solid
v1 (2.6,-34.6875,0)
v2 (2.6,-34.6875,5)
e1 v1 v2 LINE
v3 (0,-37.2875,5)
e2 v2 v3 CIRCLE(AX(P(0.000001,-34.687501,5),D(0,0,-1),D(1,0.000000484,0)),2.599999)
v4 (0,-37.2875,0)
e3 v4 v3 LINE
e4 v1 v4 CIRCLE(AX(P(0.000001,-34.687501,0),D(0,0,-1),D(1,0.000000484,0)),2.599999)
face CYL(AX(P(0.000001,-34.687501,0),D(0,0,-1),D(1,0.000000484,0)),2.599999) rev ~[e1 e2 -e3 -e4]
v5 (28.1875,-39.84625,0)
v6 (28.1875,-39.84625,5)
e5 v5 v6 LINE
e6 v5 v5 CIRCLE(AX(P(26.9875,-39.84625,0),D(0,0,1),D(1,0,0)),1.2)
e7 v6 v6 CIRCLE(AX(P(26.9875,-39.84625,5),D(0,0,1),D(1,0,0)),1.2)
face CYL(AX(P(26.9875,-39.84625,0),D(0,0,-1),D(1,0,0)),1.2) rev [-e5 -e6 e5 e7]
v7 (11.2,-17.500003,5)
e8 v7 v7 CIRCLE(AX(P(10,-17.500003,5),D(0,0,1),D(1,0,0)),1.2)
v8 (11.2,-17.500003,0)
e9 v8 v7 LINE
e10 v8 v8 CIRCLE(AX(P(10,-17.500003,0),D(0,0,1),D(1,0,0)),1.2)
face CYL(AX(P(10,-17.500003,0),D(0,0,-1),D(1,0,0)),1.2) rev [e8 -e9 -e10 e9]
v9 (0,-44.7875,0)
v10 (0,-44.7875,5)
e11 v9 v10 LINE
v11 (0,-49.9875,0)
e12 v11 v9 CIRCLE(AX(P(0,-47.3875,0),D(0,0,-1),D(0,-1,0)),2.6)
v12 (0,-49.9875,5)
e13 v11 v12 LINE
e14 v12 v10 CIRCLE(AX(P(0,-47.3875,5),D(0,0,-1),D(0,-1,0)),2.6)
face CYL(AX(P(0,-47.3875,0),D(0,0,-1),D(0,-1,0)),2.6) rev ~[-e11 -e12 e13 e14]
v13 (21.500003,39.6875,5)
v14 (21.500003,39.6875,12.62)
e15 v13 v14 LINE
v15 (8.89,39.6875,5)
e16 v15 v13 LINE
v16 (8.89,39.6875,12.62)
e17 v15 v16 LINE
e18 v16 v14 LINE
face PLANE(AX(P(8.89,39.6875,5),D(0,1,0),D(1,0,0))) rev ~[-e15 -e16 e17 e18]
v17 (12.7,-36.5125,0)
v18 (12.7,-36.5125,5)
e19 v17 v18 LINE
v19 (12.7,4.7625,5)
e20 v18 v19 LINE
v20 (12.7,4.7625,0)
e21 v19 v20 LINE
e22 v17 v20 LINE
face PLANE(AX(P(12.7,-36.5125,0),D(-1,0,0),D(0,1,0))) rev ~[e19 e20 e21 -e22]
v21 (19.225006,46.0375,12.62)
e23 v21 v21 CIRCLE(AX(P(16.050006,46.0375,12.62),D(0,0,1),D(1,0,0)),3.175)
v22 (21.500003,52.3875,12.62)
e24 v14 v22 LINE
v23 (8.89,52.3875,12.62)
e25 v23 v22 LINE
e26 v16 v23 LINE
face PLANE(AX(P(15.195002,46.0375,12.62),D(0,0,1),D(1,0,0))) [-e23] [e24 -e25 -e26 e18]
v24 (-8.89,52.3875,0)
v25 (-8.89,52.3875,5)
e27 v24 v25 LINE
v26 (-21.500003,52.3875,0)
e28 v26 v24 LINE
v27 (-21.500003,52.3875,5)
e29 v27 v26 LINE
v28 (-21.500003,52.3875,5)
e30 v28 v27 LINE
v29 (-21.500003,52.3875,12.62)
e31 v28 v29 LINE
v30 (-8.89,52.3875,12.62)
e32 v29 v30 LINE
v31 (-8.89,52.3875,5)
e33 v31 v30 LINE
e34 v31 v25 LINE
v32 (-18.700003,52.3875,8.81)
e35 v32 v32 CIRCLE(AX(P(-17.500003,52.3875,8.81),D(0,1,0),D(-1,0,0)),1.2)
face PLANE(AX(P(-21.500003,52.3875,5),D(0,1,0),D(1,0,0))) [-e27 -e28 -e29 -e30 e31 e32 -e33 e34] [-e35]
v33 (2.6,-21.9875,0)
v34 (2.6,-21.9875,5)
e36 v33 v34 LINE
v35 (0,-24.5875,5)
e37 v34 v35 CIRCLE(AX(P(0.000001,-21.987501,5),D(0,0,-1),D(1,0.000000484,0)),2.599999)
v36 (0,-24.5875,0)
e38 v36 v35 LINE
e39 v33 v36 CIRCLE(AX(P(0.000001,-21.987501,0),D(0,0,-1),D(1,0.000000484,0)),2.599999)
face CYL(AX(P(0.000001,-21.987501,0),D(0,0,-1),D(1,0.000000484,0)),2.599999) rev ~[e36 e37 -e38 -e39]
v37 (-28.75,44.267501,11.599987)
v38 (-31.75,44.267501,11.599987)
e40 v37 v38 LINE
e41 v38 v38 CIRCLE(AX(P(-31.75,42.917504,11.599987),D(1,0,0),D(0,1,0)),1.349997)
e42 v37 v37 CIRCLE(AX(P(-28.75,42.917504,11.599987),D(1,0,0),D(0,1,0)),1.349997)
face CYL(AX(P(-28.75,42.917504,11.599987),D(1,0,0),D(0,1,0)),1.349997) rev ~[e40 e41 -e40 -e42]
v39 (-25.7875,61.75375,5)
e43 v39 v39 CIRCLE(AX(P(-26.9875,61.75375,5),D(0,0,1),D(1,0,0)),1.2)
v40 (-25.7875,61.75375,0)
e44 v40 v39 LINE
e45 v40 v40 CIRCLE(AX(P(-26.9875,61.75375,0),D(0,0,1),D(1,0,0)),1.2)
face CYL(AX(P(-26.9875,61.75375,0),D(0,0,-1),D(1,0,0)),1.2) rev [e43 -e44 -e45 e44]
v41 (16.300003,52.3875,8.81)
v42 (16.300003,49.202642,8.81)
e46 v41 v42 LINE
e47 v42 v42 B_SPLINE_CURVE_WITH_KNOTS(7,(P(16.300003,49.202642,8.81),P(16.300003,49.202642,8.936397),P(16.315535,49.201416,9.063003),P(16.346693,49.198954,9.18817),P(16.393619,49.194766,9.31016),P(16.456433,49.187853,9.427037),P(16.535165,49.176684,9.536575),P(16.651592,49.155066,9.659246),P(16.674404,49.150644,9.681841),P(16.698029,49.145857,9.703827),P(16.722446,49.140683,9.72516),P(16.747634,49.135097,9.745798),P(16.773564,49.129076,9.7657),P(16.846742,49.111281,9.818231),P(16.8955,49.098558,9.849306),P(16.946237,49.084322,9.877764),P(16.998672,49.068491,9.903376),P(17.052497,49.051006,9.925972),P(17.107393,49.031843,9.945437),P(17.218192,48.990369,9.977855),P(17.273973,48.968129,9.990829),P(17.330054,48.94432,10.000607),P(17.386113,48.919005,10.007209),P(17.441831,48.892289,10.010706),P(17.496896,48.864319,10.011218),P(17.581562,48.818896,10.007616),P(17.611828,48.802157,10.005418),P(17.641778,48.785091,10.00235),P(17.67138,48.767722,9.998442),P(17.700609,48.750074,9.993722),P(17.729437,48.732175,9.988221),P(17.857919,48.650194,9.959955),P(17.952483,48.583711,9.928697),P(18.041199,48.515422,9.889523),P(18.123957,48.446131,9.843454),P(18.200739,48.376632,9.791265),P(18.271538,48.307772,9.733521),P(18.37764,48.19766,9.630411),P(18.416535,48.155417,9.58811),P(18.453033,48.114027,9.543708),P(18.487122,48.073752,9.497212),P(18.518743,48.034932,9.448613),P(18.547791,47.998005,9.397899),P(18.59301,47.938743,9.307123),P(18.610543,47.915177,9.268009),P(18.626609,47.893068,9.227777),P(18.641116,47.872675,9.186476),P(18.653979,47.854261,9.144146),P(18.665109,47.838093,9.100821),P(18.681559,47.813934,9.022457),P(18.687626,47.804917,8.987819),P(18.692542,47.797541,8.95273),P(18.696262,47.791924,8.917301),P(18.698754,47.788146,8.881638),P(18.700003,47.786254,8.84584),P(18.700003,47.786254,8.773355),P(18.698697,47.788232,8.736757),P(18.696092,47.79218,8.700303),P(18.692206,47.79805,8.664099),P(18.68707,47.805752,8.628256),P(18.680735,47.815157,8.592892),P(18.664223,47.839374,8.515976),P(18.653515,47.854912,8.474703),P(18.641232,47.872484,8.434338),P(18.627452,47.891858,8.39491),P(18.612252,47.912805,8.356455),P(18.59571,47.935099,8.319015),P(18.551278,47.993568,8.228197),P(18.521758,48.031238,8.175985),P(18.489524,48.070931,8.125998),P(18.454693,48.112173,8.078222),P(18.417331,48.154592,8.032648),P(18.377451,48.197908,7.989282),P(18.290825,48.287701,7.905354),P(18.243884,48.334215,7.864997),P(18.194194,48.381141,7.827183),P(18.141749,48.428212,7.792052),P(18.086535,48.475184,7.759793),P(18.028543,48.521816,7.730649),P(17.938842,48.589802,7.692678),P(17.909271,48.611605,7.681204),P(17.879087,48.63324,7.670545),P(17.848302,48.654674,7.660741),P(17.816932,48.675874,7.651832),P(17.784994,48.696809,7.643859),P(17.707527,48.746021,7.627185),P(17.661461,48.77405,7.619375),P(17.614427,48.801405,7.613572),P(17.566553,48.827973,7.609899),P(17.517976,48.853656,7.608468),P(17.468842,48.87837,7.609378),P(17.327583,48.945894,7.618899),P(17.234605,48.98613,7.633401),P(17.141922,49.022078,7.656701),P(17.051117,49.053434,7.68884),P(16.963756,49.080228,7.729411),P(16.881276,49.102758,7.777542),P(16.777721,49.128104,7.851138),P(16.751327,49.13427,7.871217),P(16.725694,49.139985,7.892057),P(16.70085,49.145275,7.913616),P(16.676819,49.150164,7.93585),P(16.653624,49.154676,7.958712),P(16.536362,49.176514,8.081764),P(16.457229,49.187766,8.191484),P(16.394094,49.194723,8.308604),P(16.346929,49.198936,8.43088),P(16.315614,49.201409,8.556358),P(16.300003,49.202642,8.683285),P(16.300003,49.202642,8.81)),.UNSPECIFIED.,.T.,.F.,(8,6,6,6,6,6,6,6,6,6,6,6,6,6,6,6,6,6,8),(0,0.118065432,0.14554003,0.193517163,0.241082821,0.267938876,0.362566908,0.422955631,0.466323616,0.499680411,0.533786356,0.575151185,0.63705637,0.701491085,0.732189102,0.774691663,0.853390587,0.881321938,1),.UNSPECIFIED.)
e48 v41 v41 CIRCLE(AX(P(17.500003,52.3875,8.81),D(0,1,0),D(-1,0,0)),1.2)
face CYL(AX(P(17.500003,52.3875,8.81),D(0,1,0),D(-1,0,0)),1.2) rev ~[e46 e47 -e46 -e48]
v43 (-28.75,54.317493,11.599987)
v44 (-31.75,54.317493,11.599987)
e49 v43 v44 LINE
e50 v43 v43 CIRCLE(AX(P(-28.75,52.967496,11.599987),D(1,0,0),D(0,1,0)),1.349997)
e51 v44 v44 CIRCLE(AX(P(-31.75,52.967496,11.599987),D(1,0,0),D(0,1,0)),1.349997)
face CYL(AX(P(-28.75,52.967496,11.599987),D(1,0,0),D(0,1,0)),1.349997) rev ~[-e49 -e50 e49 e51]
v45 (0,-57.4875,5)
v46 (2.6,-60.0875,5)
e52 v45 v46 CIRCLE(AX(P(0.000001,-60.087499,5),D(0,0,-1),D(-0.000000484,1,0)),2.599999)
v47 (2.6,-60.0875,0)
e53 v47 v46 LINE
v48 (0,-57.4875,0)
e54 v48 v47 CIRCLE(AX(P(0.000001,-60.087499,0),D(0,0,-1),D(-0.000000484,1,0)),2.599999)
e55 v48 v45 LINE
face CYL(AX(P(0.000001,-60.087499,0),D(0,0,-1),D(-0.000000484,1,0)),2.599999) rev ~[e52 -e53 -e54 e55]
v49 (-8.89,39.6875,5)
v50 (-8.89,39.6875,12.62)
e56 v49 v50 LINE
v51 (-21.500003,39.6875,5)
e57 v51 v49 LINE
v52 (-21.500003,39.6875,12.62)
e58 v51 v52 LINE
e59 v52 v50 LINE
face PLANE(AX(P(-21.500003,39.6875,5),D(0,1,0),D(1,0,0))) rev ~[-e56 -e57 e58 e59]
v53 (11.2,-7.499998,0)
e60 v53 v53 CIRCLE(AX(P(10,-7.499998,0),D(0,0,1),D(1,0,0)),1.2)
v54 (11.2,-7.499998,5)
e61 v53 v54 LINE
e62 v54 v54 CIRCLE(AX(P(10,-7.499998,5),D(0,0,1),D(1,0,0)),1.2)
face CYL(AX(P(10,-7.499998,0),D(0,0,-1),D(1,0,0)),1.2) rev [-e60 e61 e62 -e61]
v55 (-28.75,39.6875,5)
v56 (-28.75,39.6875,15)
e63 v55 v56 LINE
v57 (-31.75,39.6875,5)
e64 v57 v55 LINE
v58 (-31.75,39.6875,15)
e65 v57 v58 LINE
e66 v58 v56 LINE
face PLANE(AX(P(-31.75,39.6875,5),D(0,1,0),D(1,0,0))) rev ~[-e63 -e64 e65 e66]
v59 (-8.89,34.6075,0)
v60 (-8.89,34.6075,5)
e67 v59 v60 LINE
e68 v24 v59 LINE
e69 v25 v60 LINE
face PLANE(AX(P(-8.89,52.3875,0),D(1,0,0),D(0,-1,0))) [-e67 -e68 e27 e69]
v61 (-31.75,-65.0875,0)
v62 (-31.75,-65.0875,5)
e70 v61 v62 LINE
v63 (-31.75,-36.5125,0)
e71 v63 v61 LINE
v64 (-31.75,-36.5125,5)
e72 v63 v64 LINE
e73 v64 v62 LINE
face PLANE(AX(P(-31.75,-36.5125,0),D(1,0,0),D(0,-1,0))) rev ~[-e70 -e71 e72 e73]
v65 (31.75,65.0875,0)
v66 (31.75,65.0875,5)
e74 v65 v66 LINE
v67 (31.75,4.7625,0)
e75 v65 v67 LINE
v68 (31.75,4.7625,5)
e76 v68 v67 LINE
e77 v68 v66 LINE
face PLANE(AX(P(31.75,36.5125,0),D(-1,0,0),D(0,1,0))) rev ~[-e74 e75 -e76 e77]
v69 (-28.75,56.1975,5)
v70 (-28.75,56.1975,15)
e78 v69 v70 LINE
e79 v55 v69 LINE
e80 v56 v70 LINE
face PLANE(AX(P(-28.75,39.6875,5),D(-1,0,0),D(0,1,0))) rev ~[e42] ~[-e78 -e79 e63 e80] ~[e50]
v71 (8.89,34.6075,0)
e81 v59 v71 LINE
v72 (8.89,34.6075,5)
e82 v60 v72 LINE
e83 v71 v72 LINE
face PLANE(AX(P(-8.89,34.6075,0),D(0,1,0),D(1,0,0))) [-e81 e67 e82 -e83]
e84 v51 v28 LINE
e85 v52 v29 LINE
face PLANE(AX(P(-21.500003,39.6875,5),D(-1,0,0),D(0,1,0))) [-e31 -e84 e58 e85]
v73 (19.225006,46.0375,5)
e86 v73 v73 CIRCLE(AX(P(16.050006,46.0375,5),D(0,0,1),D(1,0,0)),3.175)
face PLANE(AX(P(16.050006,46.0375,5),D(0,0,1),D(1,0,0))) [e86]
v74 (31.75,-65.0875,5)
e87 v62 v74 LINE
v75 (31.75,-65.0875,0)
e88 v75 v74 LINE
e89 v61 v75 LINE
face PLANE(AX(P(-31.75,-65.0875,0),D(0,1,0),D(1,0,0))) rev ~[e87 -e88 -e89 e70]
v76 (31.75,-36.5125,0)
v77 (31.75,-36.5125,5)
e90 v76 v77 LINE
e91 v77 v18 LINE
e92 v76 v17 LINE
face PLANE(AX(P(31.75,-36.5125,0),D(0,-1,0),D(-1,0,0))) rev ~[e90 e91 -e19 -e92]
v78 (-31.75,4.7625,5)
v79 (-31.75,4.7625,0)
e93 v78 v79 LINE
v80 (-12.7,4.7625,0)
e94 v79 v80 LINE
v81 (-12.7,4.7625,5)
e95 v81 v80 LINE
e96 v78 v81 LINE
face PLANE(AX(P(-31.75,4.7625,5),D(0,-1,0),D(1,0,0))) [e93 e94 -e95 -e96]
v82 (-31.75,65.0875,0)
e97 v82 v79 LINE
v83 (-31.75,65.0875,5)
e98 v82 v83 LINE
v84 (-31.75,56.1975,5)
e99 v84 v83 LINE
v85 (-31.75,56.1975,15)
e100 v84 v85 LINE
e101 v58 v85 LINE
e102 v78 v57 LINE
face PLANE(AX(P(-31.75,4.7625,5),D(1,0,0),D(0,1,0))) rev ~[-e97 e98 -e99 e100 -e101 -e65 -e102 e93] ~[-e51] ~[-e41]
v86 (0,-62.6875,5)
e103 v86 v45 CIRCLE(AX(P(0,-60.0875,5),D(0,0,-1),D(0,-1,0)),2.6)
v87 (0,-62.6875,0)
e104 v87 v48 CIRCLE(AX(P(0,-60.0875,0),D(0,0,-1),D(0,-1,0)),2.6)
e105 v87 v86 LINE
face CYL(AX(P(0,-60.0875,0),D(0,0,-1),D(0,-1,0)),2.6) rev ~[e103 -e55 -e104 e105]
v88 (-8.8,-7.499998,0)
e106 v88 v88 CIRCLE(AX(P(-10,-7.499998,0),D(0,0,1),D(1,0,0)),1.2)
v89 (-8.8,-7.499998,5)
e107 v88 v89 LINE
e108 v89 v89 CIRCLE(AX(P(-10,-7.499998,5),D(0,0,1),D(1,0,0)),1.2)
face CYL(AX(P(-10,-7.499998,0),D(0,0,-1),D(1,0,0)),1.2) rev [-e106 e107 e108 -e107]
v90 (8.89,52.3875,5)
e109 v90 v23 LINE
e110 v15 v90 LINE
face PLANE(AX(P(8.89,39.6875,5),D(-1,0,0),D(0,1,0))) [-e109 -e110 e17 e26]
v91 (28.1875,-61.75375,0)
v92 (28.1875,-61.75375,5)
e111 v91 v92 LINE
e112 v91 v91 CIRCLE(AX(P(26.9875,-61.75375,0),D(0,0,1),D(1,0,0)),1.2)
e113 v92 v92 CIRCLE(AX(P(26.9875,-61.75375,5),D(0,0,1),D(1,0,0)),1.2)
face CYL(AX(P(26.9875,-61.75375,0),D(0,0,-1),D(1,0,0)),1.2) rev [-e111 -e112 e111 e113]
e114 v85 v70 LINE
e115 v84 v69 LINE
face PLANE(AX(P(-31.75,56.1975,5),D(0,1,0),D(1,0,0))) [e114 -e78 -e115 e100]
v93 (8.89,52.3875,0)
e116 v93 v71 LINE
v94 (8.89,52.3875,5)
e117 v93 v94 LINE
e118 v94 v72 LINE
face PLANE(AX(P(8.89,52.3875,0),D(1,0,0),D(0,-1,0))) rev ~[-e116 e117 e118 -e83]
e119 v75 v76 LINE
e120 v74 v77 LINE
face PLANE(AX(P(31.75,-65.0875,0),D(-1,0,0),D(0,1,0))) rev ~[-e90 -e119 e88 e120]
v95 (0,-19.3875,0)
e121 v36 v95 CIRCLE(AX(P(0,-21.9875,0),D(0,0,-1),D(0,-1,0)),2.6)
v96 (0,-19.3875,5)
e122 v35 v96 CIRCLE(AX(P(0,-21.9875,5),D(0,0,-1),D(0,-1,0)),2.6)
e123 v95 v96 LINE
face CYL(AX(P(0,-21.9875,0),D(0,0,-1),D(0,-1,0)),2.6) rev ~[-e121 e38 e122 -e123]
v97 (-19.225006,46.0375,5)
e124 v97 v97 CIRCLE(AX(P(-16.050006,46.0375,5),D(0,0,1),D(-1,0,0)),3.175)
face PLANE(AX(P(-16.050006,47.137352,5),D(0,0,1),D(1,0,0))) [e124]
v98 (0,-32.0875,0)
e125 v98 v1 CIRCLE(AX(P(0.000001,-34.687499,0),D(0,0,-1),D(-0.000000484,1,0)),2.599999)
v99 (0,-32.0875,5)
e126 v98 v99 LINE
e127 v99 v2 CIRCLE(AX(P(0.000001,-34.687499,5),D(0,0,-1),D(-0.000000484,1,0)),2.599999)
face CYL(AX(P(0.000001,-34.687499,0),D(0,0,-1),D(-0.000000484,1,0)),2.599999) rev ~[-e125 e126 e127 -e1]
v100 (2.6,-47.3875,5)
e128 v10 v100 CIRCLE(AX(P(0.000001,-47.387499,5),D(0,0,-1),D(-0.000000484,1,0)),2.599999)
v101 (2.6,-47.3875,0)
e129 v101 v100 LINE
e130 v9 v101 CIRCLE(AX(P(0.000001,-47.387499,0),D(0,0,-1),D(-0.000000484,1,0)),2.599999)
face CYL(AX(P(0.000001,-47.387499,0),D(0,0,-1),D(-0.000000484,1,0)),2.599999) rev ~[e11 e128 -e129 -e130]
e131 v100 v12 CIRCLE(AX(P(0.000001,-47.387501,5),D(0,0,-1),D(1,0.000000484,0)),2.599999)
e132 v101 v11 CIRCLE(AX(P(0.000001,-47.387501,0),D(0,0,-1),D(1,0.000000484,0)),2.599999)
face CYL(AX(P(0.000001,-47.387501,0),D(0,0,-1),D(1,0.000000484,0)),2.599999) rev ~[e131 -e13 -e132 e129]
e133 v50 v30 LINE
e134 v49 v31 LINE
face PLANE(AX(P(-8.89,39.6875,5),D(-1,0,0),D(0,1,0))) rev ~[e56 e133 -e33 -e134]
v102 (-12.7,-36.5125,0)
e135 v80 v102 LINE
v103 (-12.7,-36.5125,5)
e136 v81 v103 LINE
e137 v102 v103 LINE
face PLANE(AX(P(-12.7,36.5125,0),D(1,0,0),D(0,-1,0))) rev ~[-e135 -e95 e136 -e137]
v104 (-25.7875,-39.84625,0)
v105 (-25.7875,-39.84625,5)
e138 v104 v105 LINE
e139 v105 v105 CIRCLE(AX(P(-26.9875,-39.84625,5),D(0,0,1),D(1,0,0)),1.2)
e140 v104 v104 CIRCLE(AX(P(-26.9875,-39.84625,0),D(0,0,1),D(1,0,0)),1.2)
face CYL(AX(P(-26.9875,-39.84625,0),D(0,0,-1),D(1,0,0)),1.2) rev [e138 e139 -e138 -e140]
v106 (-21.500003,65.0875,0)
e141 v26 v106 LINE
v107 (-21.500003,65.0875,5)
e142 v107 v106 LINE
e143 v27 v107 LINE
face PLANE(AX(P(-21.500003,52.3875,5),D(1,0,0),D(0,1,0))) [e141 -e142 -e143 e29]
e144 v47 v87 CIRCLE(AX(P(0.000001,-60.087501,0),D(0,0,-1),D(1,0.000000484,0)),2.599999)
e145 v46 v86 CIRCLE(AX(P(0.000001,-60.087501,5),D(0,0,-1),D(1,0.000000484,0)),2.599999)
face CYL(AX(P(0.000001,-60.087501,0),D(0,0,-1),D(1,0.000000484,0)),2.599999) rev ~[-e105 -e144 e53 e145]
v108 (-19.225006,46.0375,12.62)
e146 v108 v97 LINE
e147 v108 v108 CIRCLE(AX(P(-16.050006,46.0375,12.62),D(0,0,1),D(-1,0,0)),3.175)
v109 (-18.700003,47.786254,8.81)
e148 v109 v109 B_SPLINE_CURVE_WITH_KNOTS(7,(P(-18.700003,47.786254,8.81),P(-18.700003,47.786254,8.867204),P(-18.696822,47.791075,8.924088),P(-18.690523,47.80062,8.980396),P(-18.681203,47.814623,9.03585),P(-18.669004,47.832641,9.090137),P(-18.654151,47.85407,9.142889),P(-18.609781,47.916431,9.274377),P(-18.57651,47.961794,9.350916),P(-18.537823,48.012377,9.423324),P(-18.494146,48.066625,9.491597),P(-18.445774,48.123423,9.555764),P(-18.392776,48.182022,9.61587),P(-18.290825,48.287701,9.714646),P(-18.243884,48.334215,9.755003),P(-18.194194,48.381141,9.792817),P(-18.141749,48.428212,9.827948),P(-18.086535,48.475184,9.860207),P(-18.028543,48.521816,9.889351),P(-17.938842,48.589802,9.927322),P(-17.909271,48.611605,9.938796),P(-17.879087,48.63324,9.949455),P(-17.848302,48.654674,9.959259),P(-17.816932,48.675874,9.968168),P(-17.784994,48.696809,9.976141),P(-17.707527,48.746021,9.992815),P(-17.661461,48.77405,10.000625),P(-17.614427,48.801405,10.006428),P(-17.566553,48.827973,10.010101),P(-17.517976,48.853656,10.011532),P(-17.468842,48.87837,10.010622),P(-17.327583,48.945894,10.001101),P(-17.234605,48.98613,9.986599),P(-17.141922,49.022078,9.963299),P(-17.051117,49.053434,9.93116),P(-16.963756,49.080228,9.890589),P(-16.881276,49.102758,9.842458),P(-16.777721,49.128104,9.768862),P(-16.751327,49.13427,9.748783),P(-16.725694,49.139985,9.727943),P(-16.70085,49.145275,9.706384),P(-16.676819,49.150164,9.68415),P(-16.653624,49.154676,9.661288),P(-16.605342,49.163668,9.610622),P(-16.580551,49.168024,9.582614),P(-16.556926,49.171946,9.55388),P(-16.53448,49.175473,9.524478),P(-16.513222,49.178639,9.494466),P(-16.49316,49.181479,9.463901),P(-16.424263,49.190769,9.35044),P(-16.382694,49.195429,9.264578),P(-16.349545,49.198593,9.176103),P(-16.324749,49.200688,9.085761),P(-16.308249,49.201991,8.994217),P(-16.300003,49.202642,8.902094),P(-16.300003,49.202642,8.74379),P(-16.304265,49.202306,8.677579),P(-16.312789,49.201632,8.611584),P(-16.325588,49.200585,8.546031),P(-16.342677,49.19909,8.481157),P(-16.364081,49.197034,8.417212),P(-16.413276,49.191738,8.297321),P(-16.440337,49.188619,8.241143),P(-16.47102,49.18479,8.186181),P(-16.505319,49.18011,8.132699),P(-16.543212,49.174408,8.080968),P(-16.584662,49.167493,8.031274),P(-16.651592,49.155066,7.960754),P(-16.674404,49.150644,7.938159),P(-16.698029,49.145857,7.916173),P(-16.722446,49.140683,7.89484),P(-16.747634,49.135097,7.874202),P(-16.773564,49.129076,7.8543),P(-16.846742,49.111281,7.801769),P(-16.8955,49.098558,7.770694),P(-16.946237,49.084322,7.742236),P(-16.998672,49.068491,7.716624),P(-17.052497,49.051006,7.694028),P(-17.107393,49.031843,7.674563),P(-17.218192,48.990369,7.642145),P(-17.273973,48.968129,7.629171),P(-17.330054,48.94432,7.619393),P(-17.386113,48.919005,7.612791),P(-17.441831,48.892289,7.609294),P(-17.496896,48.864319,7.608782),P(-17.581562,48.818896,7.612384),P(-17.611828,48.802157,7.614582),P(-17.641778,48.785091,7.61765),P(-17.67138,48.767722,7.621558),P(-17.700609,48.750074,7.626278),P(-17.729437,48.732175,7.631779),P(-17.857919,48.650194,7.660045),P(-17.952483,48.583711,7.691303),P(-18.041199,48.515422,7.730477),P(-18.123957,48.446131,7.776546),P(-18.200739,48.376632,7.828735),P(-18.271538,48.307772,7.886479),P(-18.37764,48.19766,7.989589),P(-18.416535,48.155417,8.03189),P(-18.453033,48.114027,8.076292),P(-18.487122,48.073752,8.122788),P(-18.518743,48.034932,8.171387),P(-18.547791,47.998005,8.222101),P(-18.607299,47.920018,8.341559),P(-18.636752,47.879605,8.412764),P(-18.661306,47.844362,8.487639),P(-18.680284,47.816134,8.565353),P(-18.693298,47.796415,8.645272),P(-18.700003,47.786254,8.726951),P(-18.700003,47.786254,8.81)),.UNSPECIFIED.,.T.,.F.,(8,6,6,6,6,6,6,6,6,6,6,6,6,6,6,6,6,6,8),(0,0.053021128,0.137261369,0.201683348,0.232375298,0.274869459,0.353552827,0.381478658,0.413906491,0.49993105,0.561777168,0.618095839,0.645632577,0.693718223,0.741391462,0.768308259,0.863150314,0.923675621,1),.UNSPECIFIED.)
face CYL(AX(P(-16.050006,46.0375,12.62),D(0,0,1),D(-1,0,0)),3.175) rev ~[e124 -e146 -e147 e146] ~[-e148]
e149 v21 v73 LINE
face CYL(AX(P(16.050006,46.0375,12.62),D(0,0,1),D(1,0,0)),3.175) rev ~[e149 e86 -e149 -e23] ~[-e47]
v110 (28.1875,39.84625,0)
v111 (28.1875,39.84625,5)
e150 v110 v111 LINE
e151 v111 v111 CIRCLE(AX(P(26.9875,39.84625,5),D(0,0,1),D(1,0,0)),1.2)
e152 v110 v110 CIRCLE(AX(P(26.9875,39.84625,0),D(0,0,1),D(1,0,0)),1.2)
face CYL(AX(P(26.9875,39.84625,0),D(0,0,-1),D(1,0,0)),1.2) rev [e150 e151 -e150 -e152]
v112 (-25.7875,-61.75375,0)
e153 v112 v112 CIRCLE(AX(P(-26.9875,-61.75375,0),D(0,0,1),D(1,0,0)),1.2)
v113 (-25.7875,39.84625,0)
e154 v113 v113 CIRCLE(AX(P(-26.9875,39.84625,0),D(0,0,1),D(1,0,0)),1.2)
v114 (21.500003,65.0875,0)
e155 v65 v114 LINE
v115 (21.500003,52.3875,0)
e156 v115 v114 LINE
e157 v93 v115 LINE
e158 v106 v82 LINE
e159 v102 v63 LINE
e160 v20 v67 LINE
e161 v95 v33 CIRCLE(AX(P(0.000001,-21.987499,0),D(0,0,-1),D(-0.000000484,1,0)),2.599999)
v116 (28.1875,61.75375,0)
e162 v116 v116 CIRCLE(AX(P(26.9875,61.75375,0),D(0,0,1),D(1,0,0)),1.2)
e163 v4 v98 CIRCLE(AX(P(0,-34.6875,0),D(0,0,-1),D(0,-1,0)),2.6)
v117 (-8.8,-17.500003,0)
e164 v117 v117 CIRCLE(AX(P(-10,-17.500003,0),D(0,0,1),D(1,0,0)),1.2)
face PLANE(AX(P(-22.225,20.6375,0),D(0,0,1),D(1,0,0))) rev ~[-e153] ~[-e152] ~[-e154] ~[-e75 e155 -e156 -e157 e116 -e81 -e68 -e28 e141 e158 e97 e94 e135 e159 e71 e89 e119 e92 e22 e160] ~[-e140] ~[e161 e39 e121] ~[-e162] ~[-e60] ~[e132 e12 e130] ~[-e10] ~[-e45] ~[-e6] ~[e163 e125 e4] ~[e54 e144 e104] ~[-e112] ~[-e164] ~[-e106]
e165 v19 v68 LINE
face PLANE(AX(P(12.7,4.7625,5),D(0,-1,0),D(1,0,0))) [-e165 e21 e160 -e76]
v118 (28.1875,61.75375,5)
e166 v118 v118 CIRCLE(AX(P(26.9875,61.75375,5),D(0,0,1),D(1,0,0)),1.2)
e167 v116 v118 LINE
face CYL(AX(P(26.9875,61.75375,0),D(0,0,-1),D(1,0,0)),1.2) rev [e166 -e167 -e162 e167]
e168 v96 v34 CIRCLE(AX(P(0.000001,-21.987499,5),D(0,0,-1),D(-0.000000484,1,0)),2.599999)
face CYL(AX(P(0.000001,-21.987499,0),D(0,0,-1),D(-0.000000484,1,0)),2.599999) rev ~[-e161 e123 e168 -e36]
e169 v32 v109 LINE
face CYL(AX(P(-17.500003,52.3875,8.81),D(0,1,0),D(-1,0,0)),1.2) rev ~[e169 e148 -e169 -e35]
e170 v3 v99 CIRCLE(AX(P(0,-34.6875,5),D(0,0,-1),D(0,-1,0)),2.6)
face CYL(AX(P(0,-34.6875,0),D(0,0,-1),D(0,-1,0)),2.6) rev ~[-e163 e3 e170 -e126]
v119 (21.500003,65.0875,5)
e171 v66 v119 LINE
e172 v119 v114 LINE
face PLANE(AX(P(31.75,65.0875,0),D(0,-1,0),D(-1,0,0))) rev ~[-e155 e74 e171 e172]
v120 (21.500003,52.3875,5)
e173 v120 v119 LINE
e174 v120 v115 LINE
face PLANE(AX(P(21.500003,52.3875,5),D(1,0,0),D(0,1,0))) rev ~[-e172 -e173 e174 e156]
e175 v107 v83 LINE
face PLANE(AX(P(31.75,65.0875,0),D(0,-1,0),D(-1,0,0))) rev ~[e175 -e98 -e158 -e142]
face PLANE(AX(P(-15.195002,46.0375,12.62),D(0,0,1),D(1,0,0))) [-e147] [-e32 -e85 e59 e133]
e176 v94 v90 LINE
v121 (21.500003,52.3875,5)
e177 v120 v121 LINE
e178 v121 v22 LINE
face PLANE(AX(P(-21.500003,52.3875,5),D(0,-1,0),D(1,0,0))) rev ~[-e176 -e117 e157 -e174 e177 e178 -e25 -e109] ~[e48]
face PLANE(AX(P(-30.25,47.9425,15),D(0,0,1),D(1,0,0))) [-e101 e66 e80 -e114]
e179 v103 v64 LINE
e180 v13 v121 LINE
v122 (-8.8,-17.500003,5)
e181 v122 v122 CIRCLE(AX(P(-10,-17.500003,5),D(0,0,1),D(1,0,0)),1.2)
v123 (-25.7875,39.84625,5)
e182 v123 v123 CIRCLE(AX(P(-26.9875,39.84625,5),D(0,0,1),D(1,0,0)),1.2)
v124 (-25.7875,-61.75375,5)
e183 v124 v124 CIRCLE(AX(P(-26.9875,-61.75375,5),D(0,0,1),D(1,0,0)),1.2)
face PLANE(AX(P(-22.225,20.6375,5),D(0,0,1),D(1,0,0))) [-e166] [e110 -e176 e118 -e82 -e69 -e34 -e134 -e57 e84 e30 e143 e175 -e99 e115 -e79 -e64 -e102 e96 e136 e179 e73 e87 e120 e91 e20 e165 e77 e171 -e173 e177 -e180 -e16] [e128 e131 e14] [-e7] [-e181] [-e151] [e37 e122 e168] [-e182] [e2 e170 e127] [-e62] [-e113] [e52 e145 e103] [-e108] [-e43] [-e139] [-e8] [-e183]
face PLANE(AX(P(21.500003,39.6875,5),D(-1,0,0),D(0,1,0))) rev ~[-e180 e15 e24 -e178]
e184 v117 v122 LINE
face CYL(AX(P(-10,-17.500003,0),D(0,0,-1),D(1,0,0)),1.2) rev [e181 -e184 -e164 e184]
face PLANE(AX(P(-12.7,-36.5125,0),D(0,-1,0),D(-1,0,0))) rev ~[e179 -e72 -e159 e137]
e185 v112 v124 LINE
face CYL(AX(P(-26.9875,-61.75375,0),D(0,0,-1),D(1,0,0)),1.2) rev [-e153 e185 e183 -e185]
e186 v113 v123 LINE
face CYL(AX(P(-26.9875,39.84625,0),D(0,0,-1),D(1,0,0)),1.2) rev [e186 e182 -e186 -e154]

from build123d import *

# Parameters (mm, degrees)
F0_R      = 1.2
F0_W      = 31.75
F0_H      = 14.2875
F1_DEPTH  = 5
F2_W      = 19.05
F2_H      = 31.75
F3_DEPTH  = 5
F4_W      = 43.000006
F4_H      = 12.7
F5_DEPTH  = 5
F6_W      = 17.78
F6_H      = 17.78
F7_DEPTH  = 5
F8_W      = 12.610003
F8_H      = 12.7
F9_DEPTH  = 7.62
F10_R     = 3.175
F11_DEPTH = 7.62
F12_R     = 1.2
F13_DEPTH = 6
F14_W     = 3
F14_H     = 16.51
F15_DEPTH = 10
F16_R     = 1.349997
F17_DEPTH = 3


with BuildPart() as f1:
    # F0 (on Top) → F1 (new body)
    with BuildSketch(Plane.XY):
        Polygon((-31.75, 36.5125), (-12.7, 36.5125), (-12.7, 0), (0, 0), (0, 50.8), (-31.75, 50.8), align=None)
        with Locations((-26.9875, 39.84625)):
            Circle(F0_R, mode=Mode.SUBTRACT)
        with BuildLine():
            Line((0, 0), (-12.7, 0))
            Line((-12.7, 0), (-12.7, -36.5125))
            Line((-12.7, -36.5125), (-31.75, -36.5125))
            Line((-31.75, -36.5125), (-31.75, -50.8))
            Line((-31.75, -50.8), (0, -50.8))
            Line((0, -50.8), (0, -49.9875))
            ThreePointArc((0, -49.9875), (-2.6, -47.3875), (0, -44.7875))
            Line((0, -44.7875), (0, -37.2875))
            ThreePointArc((0, -37.2875), (-2.6, -34.6875), (0, -32.0875))
            Line((0, -32.0875), (0, -24.5875))
            ThreePointArc((0, -24.5875), (-2.6, -21.9875), (0, -19.3875))
            Line((0, -19.3875), (0, 0))
        make_face()
        with Locations((-26.9875, -39.84625)):
            Circle(F0_R, mode=Mode.SUBTRACT)
        with Locations((-10, -17.500003)):
            Circle(F0_R, mode=Mode.SUBTRACT)
        with Locations((-10, -7.499998)):
            Circle(F0_R, mode=Mode.SUBTRACT)
        Polygon((0, 50.8), (0, 0), (12.7, 0), (12.7, 36.5125), (31.75, 36.5125), (31.75, 50.8), align=None)
        with Locations((26.9875, 39.84625)):
            Circle(F0_R, mode=Mode.SUBTRACT)
        with BuildLine():
            Line((12.7, 0), (0, 0))
            Line((0, 0), (0, -19.3875))
            ThreePointArc((0, -19.3875), (1.838478, -20.149022), (2.6, -21.9875))
            ThreePointArc((2.6, -21.9875), (1.838478, -23.825978), (0, -24.5875))
            Line((0, -24.5875), (0, -32.0875))
            ThreePointArc((0, -32.0875), (1.838478, -32.849022), (2.6, -34.6875))
            ThreePointArc((2.6, -34.6875), (1.838478, -36.525978), (0, -37.2875))
            Line((0, -37.2875), (0, -44.7875))
            ThreePointArc((0, -44.7875), (1.838478, -45.549022), (2.6, -47.3875))
            ThreePointArc((2.6, -47.3875), (1.838478, -49.225978), (0, -49.9875))
            Line((0, -49.9875), (0, -50.8))
            Line((0, -50.8), (31.75, -50.8))
            Line((31.75, -50.8), (31.75, -36.5125))
            Line((31.75, -36.5125), (12.7, -36.5125))
            Line((12.7, -36.5125), (12.7, 0))
        make_face()
        with Locations((26.9875, -39.84625)):
            Circle(F0_R, mode=Mode.SUBTRACT)
        with Locations((10, -17.500003)):
            Circle(F0_R, mode=Mode.SUBTRACT)
        with Locations((10, -7.499998)):
            Circle(F0_R, mode=Mode.SUBTRACT)
        with Locations((-15.875, 57.94375)):
            Rectangle(F0_W, F0_H)
        with Locations((-26.9875, 61.75375)):
            Circle(F0_R, mode=Mode.SUBTRACT)
        with Locations((15.875, 57.94375)):
            Rectangle(F0_W, F0_H)
        with Locations((26.9875, 61.75375)):
            Circle(F0_R, mode=Mode.SUBTRACT)
        with BuildLine():
            Line((0, -50.8), (-31.75, -50.8))
            Line((-31.75, -50.8), (-31.75, -65.0875))
            Line((-31.75, -65.0875), (0, -65.0875))
            Line((0, -65.0875), (0, -62.6875))
            ThreePointArc((0, -62.6875), (-2.6, -60.0875), (0, -57.4875))
            Line((0, -57.4875), (0, -50.8))
        make_face()
        with Locations((-26.9875, -61.75375)):
            Circle(F0_R, mode=Mode.SUBTRACT)
        with BuildLine():
            Line((31.75, -50.8), (0, -50.8))
            Line((0, -50.8), (0, -57.4875))
            ThreePointArc((0, -57.4875), (1.838478, -58.249022), (2.6, -60.0875))
            ThreePointArc((2.6, -60.0875), (1.838478, -61.925978), (0, -62.6875))
            Line((0, -62.6875), (0, -65.0875))
            Line((0, -65.0875), (31.75, -65.0875))
            Line((31.75, -65.0875), (31.75, -50.8))
        make_face()
        with Locations((26.9875, -61.75375)):
            Circle(F0_R, mode=Mode.SUBTRACT)
    extrude(amount=F1_DEPTH)

    # F2 (on face) → F3 (join, through all)
    with BuildSketch(Plane.XY.offset(5)):
        with Locations((-22.225, 20.6375)):
            Rectangle(F2_W, F2_H)
        with Locations((22.225, 20.6375)):
            Rectangle(F2_W, F2_H)
    extrude(amount=-F3_DEPTH)

    # F4 (on face) → F5 (cut, through all)
    with BuildSketch(Plane.XY.offset(5)):
        with Locations((0, 58.7375)):
            Rectangle(F4_W, F4_H)
    extrude(amount=-F5_DEPTH, mode=Mode.SUBTRACT)

    # F6 (on face) → F7 (cut, through all)
    with BuildSketch(Plane(origin=(0, 0, 0), x_dir=(1, 0, 0), z_dir=(0, 0, -1))):
        with Locations((0, -43.4975)):
            Rectangle(F6_W, F6_H)
    extrude(amount=-F7_DEPTH, mode=Mode.SUBTRACT)

    # F8 (on face) → F9 (join)
    with BuildSketch(Plane.XY.offset(5)):
        with Locations((-15.195002, 46.0375)):
            Rectangle(F8_W, F8_H)
        with Locations((15.195002, 46.0375)):
            Rectangle(F8_W, F8_H)
    extrude(amount=F9_DEPTH)

    # F10 (on face) → F11 (cut)
    with BuildSketch(Plane.XY.offset(12.62)):
        with BuildLine():
            Line((-19.225006, 46.0375), (-12.875006, 46.0375))
            ThreePointArc((-12.875006, 46.0375), (-16.050006, 49.2125), (-19.225006, 46.0375))
        make_face()
        with BuildLine():
            ThreePointArc((-19.225006, 46.0375), (-16.050006, 42.8625), (-12.875006, 46.0375))
            Line((-12.875006, 46.0375), (-19.225006, 46.0375))
        make_face()
        with Locations((16.050006, 46.0375)):
            Circle(F10_R)
    extrude(amount=-F11_DEPTH, mode=Mode.SUBTRACT)

    # F12 (on face) → F13 (cut)
    with BuildSketch(Plane(origin=(0, 52.3875, 0), x_dir=(-1, 0, 0), z_dir=(0, 1, 0))):
        with Locations((17.500003, 8.81)):
            Circle(F12_R)
        with Locations((-17.500003, 8.81)):
            Circle(F12_R)
    extrude(amount=-F13_DEPTH, mode=Mode.SUBTRACT)

    # F14 (on face) → F15 (join)
    with BuildSketch(Plane.XY.offset(5)):
        with Locations((-30.25, 47.9425)):
            Rectangle(F14_W, F14_H)
    extrude(amount=F15_DEPTH)

    # F16 (on face) → F17 (cut, through all)
    with BuildSketch(Plane.YZ.offset(-28.75)):
        with Locations((42.917504, 11.599987)):
            Circle(F16_R)
        with Locations((52.967496, 11.599987)):
            Circle(F16_R)
    extrude(amount=-F17_DEPTH, mode=Mode.SUBTRACT)


solid = f1.part
